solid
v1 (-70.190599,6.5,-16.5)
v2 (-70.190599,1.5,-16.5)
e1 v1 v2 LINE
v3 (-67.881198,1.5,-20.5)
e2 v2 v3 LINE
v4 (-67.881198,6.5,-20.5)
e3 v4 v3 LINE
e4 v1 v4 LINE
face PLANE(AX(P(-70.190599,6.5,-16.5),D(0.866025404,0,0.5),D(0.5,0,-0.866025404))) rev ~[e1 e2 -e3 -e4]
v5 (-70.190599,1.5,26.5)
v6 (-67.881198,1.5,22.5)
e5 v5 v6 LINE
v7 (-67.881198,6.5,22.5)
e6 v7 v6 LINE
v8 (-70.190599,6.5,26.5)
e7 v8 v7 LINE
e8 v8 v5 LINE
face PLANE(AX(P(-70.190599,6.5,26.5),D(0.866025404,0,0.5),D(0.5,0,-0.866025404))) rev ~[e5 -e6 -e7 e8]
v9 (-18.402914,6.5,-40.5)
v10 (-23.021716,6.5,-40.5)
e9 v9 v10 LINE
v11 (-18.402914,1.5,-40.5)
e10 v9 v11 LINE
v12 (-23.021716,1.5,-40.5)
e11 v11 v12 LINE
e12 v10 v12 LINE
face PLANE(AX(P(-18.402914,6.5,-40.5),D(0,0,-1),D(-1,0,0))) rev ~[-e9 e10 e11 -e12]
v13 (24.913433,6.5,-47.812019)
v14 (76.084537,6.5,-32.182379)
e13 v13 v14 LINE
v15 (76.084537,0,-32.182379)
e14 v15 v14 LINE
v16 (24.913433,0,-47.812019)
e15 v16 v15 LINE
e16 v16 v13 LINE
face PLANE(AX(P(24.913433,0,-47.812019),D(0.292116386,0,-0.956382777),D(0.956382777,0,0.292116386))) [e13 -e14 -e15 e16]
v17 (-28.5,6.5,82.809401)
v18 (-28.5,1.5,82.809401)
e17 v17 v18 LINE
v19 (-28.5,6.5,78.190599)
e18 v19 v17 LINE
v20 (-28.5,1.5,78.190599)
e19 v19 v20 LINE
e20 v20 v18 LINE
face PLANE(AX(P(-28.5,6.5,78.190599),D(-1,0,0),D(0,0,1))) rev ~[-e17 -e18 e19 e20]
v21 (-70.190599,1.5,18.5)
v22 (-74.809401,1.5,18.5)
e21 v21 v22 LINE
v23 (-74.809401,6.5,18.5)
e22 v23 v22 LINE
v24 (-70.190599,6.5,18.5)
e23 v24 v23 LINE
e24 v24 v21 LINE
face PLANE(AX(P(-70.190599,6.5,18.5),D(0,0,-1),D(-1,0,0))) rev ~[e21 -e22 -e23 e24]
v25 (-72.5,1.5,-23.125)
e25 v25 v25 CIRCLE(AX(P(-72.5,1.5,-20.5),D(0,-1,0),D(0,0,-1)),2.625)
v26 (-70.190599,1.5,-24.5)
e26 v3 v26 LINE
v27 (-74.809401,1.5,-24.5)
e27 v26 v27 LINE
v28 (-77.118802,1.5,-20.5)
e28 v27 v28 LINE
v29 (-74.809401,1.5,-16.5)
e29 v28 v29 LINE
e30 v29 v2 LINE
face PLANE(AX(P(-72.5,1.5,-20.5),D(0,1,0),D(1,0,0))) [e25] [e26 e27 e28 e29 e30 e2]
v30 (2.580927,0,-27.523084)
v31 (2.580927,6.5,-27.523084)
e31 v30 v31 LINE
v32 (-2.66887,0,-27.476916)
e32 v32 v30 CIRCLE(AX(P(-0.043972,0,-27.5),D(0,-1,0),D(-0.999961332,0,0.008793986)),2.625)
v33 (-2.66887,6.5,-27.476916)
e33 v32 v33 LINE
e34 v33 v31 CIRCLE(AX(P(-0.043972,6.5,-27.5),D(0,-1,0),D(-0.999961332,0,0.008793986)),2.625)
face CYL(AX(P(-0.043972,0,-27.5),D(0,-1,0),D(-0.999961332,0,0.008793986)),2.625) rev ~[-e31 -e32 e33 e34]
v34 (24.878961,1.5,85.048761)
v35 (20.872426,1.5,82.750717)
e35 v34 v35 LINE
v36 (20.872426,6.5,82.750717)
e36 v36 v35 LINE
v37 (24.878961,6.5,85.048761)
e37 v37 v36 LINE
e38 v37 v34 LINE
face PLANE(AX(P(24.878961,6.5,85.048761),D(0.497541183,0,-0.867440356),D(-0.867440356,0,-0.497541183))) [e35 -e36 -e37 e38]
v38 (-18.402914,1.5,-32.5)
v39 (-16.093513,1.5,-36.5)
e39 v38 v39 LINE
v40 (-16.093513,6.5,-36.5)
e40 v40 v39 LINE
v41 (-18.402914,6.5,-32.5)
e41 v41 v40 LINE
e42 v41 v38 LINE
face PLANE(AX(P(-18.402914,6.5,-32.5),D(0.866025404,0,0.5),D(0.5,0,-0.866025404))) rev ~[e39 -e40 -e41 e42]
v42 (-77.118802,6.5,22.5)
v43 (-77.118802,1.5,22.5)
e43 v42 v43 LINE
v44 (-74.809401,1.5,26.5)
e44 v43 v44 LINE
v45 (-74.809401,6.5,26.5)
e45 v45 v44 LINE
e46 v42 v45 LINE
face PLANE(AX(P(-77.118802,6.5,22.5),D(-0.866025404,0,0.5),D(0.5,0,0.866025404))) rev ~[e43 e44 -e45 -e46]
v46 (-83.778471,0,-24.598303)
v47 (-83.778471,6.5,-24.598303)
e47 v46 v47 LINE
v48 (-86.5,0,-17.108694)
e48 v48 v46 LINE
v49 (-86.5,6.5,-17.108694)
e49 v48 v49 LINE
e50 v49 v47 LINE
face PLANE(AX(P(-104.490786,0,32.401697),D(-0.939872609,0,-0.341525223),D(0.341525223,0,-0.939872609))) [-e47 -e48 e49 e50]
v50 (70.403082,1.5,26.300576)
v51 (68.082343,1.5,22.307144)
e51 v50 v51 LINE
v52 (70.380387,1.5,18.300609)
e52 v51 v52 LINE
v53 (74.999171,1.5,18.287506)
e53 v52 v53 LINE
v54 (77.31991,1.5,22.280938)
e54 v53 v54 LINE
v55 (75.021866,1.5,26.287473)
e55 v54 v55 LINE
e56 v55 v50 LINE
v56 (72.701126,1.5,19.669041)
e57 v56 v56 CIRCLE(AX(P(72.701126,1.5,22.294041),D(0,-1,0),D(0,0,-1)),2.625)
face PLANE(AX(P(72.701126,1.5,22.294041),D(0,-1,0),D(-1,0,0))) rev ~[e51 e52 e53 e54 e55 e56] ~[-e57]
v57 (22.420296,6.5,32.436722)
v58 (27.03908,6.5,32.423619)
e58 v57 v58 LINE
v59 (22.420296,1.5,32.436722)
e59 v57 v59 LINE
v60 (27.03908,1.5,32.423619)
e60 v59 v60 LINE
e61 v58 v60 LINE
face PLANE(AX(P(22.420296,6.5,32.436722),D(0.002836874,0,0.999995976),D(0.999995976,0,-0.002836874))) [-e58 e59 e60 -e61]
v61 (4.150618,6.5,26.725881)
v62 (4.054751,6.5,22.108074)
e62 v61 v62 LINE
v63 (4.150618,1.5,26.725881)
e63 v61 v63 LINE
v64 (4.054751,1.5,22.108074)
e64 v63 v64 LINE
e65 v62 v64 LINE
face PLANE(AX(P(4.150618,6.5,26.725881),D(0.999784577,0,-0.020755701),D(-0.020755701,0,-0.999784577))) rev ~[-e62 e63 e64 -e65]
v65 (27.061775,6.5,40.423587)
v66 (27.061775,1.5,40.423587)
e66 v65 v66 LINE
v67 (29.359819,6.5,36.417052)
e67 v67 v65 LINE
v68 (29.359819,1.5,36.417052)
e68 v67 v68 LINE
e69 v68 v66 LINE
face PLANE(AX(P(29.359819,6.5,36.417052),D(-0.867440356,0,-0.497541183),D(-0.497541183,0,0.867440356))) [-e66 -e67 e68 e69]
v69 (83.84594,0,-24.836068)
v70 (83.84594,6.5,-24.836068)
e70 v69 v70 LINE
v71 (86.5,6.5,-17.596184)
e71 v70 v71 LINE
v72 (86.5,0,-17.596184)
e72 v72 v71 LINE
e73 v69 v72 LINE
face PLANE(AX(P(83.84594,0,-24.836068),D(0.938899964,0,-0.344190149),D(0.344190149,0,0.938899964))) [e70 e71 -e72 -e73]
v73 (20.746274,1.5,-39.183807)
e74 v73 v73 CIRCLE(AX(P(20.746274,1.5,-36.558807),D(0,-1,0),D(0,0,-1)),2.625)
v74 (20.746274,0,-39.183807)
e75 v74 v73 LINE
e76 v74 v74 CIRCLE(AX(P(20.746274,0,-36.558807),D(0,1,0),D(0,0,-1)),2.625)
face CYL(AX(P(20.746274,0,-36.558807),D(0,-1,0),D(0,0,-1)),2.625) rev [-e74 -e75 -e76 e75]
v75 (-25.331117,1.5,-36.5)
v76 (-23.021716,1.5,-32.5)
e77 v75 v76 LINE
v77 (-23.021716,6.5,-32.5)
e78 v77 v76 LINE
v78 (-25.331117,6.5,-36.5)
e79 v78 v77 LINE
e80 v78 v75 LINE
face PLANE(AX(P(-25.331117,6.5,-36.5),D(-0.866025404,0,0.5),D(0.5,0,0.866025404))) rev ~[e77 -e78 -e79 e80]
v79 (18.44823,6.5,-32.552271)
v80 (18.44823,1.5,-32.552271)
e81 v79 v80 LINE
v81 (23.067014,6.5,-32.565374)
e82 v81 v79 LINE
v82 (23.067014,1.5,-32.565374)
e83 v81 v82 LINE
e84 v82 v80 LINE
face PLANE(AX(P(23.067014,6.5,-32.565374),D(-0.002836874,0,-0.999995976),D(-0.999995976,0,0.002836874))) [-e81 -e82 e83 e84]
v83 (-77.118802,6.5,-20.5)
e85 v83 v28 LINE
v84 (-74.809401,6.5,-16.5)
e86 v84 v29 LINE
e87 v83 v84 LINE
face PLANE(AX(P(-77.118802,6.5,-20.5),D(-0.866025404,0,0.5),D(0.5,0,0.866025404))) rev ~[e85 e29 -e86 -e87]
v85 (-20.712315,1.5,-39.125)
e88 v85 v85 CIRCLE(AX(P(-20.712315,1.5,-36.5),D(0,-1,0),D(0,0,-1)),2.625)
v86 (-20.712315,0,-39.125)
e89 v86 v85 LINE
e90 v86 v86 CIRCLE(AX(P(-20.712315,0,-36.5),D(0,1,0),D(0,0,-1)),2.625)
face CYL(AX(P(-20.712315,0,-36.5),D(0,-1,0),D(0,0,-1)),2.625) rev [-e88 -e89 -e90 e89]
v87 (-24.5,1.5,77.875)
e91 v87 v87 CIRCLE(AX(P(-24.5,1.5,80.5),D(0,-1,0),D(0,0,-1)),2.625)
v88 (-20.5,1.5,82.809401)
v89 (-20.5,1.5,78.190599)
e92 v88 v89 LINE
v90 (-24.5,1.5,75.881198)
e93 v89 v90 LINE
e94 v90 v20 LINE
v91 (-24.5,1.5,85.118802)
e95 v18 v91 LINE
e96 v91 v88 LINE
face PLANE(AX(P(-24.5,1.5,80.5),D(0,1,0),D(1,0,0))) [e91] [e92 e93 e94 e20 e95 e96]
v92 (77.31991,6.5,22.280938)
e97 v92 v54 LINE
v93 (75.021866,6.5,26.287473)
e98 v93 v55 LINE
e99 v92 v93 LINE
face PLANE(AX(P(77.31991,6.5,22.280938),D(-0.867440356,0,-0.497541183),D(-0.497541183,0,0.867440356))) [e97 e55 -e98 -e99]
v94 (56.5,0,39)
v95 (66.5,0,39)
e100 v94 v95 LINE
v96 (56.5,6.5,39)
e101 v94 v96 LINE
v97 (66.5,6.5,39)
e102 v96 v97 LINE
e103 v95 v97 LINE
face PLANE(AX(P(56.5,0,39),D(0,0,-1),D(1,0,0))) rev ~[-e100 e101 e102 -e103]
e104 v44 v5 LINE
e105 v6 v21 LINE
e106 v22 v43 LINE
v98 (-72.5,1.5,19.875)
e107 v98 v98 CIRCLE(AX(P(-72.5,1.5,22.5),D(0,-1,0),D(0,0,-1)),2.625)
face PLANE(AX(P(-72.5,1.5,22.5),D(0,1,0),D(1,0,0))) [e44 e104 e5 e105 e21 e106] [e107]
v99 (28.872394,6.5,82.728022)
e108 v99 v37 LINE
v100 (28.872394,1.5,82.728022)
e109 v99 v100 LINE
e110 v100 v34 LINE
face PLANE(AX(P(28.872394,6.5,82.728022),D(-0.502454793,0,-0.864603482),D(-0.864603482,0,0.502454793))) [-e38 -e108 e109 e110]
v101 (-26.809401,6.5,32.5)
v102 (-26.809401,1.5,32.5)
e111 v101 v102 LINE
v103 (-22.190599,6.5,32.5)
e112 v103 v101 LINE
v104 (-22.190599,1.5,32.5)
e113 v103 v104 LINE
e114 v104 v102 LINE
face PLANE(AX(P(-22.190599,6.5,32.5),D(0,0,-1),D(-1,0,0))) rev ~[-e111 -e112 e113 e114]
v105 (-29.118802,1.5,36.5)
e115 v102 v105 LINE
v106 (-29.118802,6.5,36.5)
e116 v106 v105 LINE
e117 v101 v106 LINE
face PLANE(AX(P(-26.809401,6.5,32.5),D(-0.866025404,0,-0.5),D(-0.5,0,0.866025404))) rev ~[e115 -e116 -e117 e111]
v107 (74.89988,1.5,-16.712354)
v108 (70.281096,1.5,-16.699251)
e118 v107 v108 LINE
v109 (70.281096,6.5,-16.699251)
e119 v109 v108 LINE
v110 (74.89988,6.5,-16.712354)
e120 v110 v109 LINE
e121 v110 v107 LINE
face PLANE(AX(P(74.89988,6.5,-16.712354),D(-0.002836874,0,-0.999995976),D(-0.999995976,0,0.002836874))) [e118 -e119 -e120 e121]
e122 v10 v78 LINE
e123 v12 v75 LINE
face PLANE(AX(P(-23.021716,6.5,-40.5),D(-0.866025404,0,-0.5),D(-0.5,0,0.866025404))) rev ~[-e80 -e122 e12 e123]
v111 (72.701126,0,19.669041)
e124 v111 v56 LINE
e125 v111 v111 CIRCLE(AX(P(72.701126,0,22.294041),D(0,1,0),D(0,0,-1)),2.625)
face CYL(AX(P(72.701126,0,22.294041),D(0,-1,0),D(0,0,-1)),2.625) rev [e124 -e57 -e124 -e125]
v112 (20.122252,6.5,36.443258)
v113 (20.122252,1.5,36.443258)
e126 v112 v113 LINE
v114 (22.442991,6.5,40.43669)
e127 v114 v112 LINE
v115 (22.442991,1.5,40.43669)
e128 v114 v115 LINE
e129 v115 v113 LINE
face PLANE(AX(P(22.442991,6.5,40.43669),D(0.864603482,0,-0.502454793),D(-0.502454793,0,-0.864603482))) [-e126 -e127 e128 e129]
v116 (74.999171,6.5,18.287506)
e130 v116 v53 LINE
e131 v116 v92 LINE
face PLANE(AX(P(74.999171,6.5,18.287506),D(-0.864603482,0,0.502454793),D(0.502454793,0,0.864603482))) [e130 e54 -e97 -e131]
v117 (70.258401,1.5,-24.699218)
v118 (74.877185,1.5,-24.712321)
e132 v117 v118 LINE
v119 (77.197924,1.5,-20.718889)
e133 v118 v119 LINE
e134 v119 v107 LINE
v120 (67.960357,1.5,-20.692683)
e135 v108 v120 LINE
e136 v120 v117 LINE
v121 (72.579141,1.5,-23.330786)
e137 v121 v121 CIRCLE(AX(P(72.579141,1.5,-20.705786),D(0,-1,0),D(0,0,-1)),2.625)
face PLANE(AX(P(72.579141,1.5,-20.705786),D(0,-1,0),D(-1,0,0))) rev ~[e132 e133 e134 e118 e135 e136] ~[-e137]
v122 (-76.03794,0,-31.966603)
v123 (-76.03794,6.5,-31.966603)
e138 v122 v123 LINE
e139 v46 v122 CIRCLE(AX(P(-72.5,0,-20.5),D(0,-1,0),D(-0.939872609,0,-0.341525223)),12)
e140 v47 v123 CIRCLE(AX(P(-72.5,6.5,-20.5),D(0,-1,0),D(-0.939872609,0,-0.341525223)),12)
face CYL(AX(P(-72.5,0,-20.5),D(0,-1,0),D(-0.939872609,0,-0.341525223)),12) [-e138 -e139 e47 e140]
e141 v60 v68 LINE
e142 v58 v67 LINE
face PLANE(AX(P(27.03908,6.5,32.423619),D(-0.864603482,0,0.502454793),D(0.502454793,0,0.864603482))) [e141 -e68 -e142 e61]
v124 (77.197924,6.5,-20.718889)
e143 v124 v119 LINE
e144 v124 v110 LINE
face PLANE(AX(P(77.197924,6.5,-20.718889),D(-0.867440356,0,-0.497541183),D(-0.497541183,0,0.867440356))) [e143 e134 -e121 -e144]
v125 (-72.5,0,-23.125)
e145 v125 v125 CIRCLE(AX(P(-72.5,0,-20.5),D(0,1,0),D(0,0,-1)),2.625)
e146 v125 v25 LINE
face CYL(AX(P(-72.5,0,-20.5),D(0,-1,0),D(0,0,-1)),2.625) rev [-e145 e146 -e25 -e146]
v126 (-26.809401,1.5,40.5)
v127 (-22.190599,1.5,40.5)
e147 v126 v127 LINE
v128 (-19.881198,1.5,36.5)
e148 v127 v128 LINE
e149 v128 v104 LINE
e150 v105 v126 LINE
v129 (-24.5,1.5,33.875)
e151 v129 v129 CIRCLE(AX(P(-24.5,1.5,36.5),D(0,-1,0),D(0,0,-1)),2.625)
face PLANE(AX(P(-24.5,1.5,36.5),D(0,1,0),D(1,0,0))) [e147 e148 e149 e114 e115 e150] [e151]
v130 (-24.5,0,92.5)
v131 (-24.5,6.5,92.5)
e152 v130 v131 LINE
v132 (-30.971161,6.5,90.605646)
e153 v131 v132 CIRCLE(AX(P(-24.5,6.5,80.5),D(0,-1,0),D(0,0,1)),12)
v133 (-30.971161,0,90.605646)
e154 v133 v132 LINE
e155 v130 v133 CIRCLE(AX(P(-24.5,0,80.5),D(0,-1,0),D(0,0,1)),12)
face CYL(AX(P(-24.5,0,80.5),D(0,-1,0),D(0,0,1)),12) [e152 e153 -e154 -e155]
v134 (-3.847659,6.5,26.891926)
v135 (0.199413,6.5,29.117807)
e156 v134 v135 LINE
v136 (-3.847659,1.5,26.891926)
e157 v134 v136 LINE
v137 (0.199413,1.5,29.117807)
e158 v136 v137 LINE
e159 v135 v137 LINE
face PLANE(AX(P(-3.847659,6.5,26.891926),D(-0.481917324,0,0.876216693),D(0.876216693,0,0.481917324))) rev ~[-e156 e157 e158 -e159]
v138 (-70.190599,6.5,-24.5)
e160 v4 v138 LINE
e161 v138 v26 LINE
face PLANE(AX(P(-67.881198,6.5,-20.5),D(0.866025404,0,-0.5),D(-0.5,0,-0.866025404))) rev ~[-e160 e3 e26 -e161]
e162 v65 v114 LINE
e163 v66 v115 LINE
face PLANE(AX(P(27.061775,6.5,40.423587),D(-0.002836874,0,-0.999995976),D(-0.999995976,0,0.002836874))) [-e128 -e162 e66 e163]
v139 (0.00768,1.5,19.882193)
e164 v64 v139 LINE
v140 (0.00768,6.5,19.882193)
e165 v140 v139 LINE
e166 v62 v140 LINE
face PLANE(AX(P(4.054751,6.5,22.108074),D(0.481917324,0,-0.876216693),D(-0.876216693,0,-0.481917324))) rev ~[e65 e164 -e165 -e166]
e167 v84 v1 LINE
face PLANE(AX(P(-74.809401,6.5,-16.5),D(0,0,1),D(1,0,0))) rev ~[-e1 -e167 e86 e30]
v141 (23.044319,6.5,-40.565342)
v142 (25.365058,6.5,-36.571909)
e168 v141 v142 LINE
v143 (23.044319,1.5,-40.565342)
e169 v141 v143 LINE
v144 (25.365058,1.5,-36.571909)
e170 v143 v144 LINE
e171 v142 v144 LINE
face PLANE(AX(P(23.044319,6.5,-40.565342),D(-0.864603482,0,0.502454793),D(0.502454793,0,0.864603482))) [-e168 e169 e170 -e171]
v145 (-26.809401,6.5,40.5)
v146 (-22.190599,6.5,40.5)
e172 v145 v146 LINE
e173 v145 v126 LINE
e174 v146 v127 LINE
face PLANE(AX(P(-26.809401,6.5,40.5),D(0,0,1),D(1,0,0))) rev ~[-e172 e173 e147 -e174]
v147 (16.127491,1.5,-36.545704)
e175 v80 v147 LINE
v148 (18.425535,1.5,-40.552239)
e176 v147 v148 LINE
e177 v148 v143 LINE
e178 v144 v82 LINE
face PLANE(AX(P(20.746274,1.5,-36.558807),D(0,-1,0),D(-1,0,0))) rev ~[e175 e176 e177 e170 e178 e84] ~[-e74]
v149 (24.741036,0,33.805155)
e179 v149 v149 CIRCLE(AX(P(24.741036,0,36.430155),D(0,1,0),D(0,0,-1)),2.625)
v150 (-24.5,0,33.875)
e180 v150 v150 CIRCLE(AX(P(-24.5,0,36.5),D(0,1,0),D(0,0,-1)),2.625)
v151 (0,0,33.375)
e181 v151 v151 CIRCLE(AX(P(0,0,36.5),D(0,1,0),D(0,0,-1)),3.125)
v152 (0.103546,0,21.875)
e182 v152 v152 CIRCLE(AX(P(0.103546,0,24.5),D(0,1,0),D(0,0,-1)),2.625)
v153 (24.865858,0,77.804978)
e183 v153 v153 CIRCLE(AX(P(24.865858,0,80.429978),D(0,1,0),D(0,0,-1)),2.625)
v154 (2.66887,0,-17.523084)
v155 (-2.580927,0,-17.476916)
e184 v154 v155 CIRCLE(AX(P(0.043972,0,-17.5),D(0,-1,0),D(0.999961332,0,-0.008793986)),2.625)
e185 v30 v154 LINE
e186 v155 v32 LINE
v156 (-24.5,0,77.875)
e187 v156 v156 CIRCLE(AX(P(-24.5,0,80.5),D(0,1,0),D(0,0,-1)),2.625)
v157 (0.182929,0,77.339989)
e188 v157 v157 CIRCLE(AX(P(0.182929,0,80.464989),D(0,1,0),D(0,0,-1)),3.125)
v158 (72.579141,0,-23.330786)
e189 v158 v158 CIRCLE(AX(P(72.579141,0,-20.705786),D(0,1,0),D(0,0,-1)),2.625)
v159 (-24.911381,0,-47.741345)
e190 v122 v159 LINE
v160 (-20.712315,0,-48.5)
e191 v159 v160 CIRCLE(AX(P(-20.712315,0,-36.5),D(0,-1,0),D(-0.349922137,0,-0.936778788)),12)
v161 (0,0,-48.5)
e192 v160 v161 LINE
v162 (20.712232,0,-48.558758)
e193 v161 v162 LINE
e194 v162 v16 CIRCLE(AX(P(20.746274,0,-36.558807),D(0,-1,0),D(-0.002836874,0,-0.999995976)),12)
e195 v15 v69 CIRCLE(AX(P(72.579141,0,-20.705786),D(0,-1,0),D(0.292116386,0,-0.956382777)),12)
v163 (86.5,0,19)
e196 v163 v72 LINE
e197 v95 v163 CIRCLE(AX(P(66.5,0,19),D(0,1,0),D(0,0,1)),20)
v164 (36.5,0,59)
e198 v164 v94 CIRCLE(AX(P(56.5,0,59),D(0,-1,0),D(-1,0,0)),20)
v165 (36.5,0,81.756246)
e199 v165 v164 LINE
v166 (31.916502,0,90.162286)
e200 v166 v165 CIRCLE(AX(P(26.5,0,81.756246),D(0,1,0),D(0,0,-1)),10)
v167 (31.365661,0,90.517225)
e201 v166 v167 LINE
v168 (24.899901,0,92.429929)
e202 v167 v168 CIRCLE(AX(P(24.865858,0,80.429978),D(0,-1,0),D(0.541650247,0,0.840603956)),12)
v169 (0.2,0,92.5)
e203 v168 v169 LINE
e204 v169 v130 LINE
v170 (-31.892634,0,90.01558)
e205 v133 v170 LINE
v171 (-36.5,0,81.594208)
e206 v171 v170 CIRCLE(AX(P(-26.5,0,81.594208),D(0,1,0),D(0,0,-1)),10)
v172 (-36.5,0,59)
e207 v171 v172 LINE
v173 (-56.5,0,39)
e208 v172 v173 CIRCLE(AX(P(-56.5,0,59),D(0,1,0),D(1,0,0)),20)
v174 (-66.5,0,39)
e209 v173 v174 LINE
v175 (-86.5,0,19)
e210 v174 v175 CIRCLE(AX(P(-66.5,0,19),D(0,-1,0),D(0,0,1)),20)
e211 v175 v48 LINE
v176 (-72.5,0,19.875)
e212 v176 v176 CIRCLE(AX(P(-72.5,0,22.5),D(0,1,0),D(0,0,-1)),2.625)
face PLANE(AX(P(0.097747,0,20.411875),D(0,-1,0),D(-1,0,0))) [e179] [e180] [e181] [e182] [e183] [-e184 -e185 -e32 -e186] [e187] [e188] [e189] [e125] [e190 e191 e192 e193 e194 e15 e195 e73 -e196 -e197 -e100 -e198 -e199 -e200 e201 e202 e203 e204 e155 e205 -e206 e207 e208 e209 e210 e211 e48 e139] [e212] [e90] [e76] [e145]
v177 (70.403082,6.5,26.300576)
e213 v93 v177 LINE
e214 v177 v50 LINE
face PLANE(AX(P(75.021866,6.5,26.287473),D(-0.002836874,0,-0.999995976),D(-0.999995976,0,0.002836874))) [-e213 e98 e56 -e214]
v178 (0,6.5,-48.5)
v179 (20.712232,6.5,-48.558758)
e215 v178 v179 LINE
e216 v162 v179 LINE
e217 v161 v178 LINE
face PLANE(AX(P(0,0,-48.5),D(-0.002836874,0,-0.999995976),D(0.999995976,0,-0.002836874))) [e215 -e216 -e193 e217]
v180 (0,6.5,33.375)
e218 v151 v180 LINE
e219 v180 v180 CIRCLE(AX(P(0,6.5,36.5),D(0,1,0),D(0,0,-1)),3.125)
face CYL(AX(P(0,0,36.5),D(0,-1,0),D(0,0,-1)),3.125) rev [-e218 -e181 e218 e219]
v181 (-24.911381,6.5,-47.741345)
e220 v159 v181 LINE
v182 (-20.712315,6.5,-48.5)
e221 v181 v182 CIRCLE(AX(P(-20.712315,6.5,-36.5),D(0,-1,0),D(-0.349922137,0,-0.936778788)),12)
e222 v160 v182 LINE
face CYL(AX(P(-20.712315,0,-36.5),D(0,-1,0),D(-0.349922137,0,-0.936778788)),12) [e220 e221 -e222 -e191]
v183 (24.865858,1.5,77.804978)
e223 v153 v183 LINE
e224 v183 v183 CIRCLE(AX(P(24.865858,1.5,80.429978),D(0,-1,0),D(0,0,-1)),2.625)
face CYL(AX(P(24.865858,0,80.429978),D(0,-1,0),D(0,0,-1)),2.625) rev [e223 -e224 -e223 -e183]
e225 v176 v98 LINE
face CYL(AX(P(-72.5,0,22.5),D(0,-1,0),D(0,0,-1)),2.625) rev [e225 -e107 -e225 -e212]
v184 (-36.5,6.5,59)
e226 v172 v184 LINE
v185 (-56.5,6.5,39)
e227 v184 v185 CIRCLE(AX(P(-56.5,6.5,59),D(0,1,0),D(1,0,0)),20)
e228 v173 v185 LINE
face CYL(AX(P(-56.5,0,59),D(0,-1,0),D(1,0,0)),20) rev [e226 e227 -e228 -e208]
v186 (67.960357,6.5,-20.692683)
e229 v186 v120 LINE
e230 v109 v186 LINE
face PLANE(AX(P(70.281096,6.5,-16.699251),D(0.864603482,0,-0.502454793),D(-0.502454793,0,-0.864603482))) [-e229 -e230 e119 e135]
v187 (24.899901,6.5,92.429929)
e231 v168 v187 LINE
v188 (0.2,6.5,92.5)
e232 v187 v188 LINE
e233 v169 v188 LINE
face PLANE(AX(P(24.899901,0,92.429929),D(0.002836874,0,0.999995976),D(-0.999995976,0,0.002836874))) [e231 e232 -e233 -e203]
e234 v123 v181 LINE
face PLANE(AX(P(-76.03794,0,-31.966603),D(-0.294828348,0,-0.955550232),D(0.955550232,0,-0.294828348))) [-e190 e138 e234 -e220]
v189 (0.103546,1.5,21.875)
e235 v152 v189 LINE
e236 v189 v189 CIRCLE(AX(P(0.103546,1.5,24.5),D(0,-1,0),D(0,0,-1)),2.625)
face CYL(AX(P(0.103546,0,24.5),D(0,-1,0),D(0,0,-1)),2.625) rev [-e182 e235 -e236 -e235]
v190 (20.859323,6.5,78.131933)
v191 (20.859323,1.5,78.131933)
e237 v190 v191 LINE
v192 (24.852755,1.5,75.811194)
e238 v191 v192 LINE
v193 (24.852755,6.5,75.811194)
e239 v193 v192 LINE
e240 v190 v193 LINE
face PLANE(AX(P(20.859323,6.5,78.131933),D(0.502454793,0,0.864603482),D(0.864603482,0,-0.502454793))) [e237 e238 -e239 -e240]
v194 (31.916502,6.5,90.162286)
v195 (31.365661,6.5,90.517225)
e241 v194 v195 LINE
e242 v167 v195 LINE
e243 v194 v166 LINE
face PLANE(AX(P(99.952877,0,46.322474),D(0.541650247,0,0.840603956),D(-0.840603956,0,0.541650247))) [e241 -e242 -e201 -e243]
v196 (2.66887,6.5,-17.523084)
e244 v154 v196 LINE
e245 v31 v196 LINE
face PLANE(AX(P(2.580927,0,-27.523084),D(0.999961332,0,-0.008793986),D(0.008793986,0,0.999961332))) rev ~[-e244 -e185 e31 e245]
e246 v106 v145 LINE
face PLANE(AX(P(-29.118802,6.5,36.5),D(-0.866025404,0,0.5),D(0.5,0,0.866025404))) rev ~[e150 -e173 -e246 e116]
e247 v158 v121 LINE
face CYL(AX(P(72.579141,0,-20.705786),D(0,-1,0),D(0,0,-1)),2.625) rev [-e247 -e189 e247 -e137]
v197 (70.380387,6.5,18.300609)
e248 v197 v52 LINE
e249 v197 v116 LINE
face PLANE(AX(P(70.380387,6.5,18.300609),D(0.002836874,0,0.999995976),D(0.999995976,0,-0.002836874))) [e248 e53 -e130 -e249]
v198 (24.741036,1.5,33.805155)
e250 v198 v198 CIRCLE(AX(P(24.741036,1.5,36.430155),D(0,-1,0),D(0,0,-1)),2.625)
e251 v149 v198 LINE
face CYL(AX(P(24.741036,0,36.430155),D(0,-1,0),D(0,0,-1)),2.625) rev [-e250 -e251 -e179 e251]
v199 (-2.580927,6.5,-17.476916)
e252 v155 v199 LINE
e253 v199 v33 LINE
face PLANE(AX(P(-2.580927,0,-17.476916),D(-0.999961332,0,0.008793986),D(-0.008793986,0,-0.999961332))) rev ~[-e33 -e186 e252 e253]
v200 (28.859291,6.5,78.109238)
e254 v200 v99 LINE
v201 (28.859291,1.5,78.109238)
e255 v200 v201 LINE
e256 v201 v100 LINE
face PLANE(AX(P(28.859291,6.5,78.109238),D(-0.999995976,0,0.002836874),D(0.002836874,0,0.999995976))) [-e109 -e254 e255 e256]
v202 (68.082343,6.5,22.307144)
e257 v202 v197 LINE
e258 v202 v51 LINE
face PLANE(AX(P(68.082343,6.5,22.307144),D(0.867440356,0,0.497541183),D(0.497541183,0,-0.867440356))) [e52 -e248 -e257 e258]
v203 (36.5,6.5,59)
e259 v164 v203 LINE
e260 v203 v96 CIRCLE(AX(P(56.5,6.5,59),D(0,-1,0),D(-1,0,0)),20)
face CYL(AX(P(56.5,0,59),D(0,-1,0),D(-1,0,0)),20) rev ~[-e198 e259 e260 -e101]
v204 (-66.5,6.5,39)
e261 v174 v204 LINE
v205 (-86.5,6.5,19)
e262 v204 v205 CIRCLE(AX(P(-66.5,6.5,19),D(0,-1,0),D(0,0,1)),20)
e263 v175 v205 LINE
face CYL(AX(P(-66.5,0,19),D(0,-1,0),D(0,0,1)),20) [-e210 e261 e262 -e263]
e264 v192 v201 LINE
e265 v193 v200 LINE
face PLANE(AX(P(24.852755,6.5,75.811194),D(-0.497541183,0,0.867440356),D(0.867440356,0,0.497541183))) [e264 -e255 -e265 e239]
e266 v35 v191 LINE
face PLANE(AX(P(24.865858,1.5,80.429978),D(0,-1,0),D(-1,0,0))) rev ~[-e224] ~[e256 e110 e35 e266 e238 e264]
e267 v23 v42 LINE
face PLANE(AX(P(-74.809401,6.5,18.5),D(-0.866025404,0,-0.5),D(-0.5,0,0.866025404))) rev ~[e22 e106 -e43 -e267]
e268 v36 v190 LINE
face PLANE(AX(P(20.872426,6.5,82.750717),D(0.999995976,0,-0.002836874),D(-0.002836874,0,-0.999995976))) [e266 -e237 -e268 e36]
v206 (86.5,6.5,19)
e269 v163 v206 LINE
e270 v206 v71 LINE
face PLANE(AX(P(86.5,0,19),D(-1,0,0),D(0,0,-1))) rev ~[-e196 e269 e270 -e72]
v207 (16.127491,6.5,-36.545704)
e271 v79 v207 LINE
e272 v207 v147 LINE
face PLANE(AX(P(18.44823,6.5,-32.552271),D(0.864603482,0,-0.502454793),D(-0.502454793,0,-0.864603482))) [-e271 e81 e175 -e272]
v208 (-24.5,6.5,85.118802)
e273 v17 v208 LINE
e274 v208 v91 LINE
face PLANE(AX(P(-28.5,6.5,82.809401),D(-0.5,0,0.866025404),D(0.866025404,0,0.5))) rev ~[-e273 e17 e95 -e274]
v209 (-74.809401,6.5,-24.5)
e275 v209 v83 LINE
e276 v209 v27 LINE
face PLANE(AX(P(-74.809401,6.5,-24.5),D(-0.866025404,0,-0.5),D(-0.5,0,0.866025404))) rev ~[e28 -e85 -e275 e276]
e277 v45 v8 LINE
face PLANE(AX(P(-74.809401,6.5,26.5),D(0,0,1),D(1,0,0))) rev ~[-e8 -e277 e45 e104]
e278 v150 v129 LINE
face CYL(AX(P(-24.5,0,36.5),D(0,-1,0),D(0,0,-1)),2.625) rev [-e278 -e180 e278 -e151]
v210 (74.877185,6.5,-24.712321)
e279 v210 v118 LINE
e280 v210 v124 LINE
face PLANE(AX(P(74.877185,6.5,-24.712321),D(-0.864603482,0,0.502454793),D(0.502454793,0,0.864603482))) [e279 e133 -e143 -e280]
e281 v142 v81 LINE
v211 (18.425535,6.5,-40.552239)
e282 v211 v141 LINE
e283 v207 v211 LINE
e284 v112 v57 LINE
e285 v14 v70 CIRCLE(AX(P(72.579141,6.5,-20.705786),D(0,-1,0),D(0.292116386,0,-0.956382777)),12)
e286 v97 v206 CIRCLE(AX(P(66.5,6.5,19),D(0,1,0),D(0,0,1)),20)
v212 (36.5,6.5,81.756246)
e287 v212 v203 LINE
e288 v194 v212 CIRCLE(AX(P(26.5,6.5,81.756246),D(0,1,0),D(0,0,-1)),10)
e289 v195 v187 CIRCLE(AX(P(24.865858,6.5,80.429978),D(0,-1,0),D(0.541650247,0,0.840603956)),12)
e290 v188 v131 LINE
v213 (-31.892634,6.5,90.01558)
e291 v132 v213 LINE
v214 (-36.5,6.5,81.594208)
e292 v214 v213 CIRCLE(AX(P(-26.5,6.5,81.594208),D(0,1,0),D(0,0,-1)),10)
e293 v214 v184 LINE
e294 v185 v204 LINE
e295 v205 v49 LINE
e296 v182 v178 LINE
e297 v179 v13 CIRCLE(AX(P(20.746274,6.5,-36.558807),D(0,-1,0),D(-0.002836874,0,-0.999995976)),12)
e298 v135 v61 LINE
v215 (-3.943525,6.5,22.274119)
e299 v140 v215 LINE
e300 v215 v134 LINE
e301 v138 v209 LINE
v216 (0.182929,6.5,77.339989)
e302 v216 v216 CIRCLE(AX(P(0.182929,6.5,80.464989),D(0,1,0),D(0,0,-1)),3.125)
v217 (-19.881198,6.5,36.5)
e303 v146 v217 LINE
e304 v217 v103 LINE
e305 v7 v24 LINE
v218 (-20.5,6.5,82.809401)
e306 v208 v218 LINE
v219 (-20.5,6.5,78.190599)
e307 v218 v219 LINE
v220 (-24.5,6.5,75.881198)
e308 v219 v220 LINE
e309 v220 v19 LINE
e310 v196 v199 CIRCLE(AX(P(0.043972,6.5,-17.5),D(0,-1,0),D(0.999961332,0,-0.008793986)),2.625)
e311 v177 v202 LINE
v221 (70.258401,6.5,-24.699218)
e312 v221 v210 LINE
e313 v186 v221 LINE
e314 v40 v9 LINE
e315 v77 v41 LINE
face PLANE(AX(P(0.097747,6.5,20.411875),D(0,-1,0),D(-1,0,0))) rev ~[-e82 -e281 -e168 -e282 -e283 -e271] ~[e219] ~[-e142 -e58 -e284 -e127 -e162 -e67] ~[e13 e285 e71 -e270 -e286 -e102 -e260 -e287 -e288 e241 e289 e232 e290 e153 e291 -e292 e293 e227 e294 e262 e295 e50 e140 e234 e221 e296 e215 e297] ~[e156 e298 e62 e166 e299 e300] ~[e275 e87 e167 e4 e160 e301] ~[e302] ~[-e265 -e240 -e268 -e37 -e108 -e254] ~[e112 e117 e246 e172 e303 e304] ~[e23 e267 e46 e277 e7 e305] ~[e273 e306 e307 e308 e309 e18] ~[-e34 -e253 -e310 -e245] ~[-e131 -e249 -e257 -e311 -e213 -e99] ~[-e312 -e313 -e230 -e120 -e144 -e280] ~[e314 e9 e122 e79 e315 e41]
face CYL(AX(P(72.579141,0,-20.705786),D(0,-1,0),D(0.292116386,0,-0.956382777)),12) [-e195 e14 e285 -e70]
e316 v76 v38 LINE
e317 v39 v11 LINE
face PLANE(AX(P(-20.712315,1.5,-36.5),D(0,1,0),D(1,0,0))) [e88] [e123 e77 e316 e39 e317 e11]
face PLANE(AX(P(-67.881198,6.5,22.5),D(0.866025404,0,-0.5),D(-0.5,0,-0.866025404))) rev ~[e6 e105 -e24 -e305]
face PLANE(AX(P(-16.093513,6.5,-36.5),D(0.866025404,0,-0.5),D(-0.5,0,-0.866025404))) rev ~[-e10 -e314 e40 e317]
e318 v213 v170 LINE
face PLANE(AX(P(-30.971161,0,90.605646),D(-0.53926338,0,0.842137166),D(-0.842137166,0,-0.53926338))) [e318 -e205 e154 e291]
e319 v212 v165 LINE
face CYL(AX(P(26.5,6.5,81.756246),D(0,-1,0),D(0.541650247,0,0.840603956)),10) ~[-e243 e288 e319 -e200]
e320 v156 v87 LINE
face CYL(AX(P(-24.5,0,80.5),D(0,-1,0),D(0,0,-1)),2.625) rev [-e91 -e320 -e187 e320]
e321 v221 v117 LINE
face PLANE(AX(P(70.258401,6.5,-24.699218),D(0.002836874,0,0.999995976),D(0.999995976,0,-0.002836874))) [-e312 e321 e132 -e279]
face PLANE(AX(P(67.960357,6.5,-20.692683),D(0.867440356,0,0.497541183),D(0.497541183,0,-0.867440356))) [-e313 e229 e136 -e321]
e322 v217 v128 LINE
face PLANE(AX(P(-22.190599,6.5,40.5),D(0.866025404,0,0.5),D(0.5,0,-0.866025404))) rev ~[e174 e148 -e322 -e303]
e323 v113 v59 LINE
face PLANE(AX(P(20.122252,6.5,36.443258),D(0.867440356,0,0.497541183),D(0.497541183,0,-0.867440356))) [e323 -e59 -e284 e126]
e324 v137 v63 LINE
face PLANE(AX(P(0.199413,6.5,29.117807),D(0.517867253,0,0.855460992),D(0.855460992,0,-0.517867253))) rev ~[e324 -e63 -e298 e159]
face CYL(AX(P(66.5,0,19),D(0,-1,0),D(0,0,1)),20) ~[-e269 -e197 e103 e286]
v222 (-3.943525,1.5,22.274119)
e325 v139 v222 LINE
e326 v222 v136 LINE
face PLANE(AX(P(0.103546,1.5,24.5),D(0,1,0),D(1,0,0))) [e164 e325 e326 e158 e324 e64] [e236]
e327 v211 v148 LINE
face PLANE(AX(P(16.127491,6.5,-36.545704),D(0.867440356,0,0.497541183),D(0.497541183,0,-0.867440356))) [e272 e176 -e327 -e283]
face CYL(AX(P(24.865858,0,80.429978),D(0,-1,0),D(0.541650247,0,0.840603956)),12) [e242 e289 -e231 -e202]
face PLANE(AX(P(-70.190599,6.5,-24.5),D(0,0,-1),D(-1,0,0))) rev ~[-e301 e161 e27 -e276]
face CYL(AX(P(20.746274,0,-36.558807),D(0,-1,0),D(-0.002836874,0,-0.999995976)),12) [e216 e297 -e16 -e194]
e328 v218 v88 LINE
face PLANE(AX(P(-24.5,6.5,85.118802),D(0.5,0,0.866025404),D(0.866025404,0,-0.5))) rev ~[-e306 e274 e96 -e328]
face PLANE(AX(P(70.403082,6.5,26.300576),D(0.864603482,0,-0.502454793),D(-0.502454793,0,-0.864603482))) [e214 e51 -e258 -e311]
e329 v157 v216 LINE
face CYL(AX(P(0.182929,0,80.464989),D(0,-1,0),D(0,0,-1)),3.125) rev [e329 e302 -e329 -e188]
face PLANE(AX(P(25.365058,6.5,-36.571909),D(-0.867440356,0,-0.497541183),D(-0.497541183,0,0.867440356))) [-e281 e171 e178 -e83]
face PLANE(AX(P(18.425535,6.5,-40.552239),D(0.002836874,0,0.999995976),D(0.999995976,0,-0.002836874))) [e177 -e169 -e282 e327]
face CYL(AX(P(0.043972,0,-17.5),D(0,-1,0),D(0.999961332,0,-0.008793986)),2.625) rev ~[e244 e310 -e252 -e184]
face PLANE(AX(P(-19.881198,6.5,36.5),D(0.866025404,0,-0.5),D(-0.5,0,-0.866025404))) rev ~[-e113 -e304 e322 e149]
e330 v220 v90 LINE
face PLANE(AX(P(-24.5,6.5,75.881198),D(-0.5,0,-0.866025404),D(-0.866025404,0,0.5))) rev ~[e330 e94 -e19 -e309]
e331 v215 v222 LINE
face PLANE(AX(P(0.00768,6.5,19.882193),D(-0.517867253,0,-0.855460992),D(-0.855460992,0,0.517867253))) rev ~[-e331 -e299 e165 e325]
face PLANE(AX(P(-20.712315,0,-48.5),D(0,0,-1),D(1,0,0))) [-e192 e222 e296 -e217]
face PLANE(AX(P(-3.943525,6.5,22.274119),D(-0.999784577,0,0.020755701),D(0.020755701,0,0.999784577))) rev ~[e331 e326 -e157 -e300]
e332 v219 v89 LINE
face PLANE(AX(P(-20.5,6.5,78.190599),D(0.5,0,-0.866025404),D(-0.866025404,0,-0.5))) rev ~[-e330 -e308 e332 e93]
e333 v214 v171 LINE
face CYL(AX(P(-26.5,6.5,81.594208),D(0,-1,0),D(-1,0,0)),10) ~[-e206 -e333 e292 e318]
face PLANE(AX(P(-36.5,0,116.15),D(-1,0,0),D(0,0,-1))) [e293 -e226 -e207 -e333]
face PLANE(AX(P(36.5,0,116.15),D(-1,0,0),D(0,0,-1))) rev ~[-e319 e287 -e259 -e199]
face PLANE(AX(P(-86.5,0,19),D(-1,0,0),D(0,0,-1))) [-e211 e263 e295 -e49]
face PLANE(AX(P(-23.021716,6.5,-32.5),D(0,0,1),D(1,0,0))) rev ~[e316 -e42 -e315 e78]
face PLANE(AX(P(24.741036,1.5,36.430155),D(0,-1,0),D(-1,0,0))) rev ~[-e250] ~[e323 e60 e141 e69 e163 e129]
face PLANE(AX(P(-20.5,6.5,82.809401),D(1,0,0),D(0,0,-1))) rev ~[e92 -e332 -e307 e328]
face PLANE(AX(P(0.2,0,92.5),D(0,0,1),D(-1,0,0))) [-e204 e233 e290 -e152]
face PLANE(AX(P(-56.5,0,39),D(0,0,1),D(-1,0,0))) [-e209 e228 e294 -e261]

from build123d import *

# Parameters (mm, degrees)
SKETCH2_R          = 2.625
SKETCH2_R_2        = 3.125
MAINPLATE_DEPTH    = 6.5
PRESSFITNUTS_DEPTH = 5
CUT_EXTRUDE2_DEPTH = 6.5
FILLET2_R          = 10


with BuildPart() as part:
    # Sketch2 → MainPlate (new body)
    with BuildSketch(Plane(origin=(0, 0, 0), x_dir=(1, 0, 0), z_dir=(0, 1, 0))):
        with BuildLine():
            Line((24.899900609, -92.429929219), (0.2, -92.5))
            Line((0.2, -92.5), (-24.5, -92.5))
            ThreePointArc((-24.5, -92.5), (-27.871368271, -92.016678166), (-30.971160559, -90.605645997))
            Line((-30.971160559, -90.605645997), (-99.683475736, -46.605645997))
            ThreePointArc((-99.683475736, -46.605645997), (-104.578950448, -40.347025165), (-104.490786491, -32.401697323))
            Line((-104.490786491, -32.401697323), (-83.778471314, 24.598302677))
            ThreePointArc((-83.778471314, 24.598302677), (-80.773721892, 29.191692934), (-76.037940173, 31.966602781))
            Line((-76.037940173, 31.966602781), (-24.911380811, 47.741345462))
            ThreePointArc((-24.911380811, 47.741345462), (-22.845839779, 48.308813352), (-20.712315177, 48.5))
            Line((-20.712315177, 48.5), (0, 48.5))
            Line((0, 48.5), (20.712231832, 48.558758223))
            ThreePointArc((20.712231832, 48.558758223), (22.846290221, 48.373624884), (24.913432777, 47.812018957))
            Line((24.913432777, 47.812018957), (76.084537362, 32.182379345))
            ThreePointArc((76.084537362, 32.182379345), (80.828172093, 29.420915478), (83.845940292, 24.836067799))
            Line((83.845940292, 24.836067799), (104.719873926, -32.104944614))
            ThreePointArc((104.719873926, -32.104944614), (104.830577421, -40.049990373), (99.952877324, -46.322473865))
            Line((99.952877324, -46.322473865), (31.365661085, -90.517224974))
            ThreePointArc((31.365661085, -90.517224974), (28.26988419, -91.937045184), (24.899900609, -92.429929219))
        make_face()
        with Locations(Location((-72.5, 20.5, 0), (0, 0, 90))):
            Circle(SKETCH2_R, mode=Mode.SUBTRACT)
        with Locations(Location((-20.712315177, 36.5, 0), (0, 0, 90))):
            Circle(SKETCH2_R, mode=Mode.SUBTRACT)
        with Locations(Location((-93.212315177, -36.5, 0), (0, 0, 90))):
            Circle(SKETCH2_R, mode=Mode.SUBTRACT)
        with Locations(Location((-58.856157589, -58.5, 0), (0, 0, 90))):
            Circle(SKETCH2_R, mode=Mode.SUBTRACT)
        with Locations(Location((-24.5, -80.5, 0), (0, 0, 90))):
            Circle(SKETCH2_R, mode=Mode.SUBTRACT)
        with Locations(Location((-24.5, -36.5, 0), (0, 0, 90))):
            Circle(SKETCH2_R, mode=Mode.SUBTRACT)
        with Locations(Location((-72.5, -22.5, 0), (0, 0, 90))):
            Circle(SKETCH2_R, mode=Mode.SUBTRACT)
        with Locations(Location((24.74103568, -36.430154559, 0), (0, 0, 90))):
            Circle(SKETCH2_R, mode=Mode.SUBTRACT)
        with Locations(Location((24.865858124, -80.429977506, 0), (0, 0, 90))):
            Circle(SKETCH2_R, mode=Mode.SUBTRACT)
        with Locations(Location((59.159466244, -58.332601952, 0), (0, 0, 90))):
            Circle(SKETCH2_R, mode=Mode.SUBTRACT)
        with Locations(Location((93.453074364, -36.235226398, 0), (0, 0, 90))):
            Circle(SKETCH2_R, mode=Mode.SUBTRACT)
        with Locations(Location((72.701126299, -22.294040956, 0), (0, 0, 90))):
            Circle(SKETCH2_R, mode=Mode.SUBTRACT)
        with Locations(Location((72.579140729, 20.705786015, 0), (0, 0, 90))):
            Circle(SKETCH2_R, mode=Mode.SUBTRACT)
        with Locations(Location((20.746274317, 36.55880651, 0), (0, 0, 90))):
            Circle(SKETCH2_R, mode=Mode.SUBTRACT)
        with Locations(Location((0, -36.5, 0), (0, 0, 90))):
            Circle(SKETCH2_R_2, mode=Mode.SUBTRACT)
        with Locations(Location((0.182929062, -80.464988753, 0), (0, 0, 90))):
            Circle(SKETCH2_R_2, mode=Mode.SUBTRACT)
        with Locations(Location((0.103546099, -24.5, 0), (0, 0, 90))):
            Circle(SKETCH2_R, mode=Mode.SUBTRACT)
        with BuildLine():
            Line((2.580926866, 27.523084214), (2.668870128, 17.523084214))
            ThreePointArc((2.668870128, 17.523084214), (0.067055845, 14.875101503), (-2.580926866, 17.476915786))
            Line((-2.580926866, 17.476915786), (-2.668870128, 27.476915786))
            ThreePointArc((-2.668870128, 27.476915786), (-0.067055845, 30.124898497), (2.580926866, 27.523084214))
        make_face(mode=Mode.SUBTRACT)
    extrude(amount=MAINPLATE_DEPTH)

    # Sketch8 → PressFitNuts (cut)
    with BuildSketch(Plane(origin=(0, 6.5, 0), x_dir=(1, 0, 0), z_dir=(0, 1, 0))):
        Polygon((-3.847658971, -26.891926384), (0.199412577, -29.117807158), (4.150617647, -26.725880774), (4.054751169, -22.108073616), (0.007679621, -19.882192842), (-3.943525449, -22.274119226), align=None)
        Polygon((-19.881197846, -36.5), (-22.190598923, -32.5), (-26.809401077, -32.5), (-29.118802154, -36.5), (-26.809401077, -40.5), (-22.190598923, -40.5), align=None)
        Polygon((-67.881197846, -22.5), (-70.190598923, -18.5), (-74.809401077, -18.5), (-77.118802154, -22.5), (-74.809401077, -26.5), (-70.190598923, -26.5), align=None)
        Polygon((-67.881197846, 20.5), (-70.190598923, 24.5), (-74.809401077, 24.5), (-77.118802154, 20.5), (-74.809401077, 16.5), (-70.190598923, 16.5), align=None)
        Polygon((-88.593513024, -36.5), (-90.9029141, -32.5), (-95.521716254, -32.5), (-97.831117331, -36.5), (-95.521716254, -40.5), (-90.9029141, -40.5), align=None)
        Polygon((-54.237355435, -58.5), (-56.546756512, -54.5), (-61.165558665, -54.5), (-63.474959742, -58.5), (-61.165558665, -62.5), (-56.546756512, -62.5), align=None)
        Polygon((-24.5, -75.881197846), (-28.5, -78.190598923), (-28.5, -82.809401077), (-24.5, -85.118802154), (-20.5, -82.809401077), (-20.5, -78.190598923), align=None)
        Polygon((-16.093513024, 36.5), (-18.4029141, 40.5), (-23.021716254, 40.5), (-25.331117331, 36.5), (-23.021716254, 32.5), (-18.4029141, 32.5), align=None)
        Polygon((18.448230028, 32.552271126), (16.127490749, 36.545703551), (18.425535038, 40.552238935), (23.044318606, 40.565341893), (25.365057885, 36.571909468), (23.067013596, 32.565374085), align=None)
        Polygon((20.859322741, -78.131933217), (24.852755166, -75.811193938), (28.859290549, -78.109238227), (28.872393508, -82.728021795), (24.878961083, -85.048761074), (20.872425699, -82.750716785), align=None)
        Polygon((56.861421955, -62.339137336), (54.540682676, -58.34570491), (56.838726965, -54.339169527), (61.457510533, -54.326066569), (63.778249812, -58.319498994), (61.480205523, -62.326034377), align=None)
        Polygon((91.155030075, -40.241761781), (88.834290796, -36.248329356), (91.132335085, -32.241793973), (95.751118653, -32.228691014), (98.071857931, -36.222123439), (95.773813642, -40.228658823), align=None)
        Polygon((70.28109644, 16.699250632), (67.960357161, 20.692683057), (70.25840145, 24.69921844), (74.877185018, 24.712321399), (77.197924297, 20.718888974), (74.899880008, 16.71235359), align=None)
        Polygon((70.40308201, -26.300576339), (68.082342731, -22.307143914), (70.38038702, -18.300608531), (74.999170588, -18.287505572), (77.319909867, -22.280937997), (75.021865578, -26.287473381), align=None)
        Polygon((22.442991391, -40.436689943), (20.122252112, -36.443257518), (22.420296401, -32.436722134), (27.039079969, -32.423619176), (29.359819248, -36.417051601), (27.061774959, -40.423586984), align=None)
    extrude(amount=-PRESSFITNUTS_DEPTH, mode=Mode.SUBTRACT)

    # Sketch11 → Cut-Extrude2 (cut)
    with BuildSketch(Plane(origin=(0, 0, 0), x_dir=(1, 0, 0), z_dir=(0, 1, 0))):
        with BuildLine():
            Line((-111.9, 4.5), (-111.9, -116.15))
            Line((-111.9, -116.15), (-86.5, -116.15))
            Line((-86.5, -116.15), (-36.5, -116.15))
            Line((-36.5, -116.15), (-36.5, -59))
            ThreePointArc((-36.5, -59), (-42.357864376, -44.857864376), (-56.5, -39))
            Line((-56.5, -39), (-66.5, -39))
            ThreePointArc((-66.5, -39), (-80.642135624, -33.142135624), (-86.5, -19))
            Line((-86.5, -19), (-86.5, 4.5))
            Line((-86.5, 4.5), (-86.5, 44.576396133))
            Line((-86.5, 44.576396133), (-111.9, 44.576396133))
            Line((-111.9, 44.576396133), (-111.9, 4.5))
        make_face()
        with BuildLine():
            Line((86.5, 4.5), (86.5, 44.576396133))
            Line((86.5, 44.576396133), (111.9, 44.576396133))
            Line((111.9, 44.576396133), (111.9, 4.5))
            Line((111.9, 4.5), (111.9, -116.15))
            Line((111.9, -116.15), (86.5, -116.15))
            Line((86.5, -116.15), (36.5, -116.15))
            Line((36.5, -116.15), (36.5, -59))
            ThreePointArc((36.5, -59), (42.357864376, -44.857864376), (56.5, -39))
            Line((56.5, -39), (66.5, -39))
            ThreePointArc((66.5, -39), (80.642135624, -33.142135624), (86.5, -19))
            Line((86.5, -19), (86.5, 4.5))
        make_face()
    extrude(amount=CUT_EXTRUDE2_DEPTH, mode=Mode.SUBTRACT)

    # Fillet2
    fillet2_edges = [part.edges().sort_by_distance(p)[0] for p in [
        (36.5, 3.25, 87.208870401),
        (-36.5, 3.25, 87.065248111),
    ]]
    fillet(fillet2_edges, radius=FILLET2_R)


solid = part.part
